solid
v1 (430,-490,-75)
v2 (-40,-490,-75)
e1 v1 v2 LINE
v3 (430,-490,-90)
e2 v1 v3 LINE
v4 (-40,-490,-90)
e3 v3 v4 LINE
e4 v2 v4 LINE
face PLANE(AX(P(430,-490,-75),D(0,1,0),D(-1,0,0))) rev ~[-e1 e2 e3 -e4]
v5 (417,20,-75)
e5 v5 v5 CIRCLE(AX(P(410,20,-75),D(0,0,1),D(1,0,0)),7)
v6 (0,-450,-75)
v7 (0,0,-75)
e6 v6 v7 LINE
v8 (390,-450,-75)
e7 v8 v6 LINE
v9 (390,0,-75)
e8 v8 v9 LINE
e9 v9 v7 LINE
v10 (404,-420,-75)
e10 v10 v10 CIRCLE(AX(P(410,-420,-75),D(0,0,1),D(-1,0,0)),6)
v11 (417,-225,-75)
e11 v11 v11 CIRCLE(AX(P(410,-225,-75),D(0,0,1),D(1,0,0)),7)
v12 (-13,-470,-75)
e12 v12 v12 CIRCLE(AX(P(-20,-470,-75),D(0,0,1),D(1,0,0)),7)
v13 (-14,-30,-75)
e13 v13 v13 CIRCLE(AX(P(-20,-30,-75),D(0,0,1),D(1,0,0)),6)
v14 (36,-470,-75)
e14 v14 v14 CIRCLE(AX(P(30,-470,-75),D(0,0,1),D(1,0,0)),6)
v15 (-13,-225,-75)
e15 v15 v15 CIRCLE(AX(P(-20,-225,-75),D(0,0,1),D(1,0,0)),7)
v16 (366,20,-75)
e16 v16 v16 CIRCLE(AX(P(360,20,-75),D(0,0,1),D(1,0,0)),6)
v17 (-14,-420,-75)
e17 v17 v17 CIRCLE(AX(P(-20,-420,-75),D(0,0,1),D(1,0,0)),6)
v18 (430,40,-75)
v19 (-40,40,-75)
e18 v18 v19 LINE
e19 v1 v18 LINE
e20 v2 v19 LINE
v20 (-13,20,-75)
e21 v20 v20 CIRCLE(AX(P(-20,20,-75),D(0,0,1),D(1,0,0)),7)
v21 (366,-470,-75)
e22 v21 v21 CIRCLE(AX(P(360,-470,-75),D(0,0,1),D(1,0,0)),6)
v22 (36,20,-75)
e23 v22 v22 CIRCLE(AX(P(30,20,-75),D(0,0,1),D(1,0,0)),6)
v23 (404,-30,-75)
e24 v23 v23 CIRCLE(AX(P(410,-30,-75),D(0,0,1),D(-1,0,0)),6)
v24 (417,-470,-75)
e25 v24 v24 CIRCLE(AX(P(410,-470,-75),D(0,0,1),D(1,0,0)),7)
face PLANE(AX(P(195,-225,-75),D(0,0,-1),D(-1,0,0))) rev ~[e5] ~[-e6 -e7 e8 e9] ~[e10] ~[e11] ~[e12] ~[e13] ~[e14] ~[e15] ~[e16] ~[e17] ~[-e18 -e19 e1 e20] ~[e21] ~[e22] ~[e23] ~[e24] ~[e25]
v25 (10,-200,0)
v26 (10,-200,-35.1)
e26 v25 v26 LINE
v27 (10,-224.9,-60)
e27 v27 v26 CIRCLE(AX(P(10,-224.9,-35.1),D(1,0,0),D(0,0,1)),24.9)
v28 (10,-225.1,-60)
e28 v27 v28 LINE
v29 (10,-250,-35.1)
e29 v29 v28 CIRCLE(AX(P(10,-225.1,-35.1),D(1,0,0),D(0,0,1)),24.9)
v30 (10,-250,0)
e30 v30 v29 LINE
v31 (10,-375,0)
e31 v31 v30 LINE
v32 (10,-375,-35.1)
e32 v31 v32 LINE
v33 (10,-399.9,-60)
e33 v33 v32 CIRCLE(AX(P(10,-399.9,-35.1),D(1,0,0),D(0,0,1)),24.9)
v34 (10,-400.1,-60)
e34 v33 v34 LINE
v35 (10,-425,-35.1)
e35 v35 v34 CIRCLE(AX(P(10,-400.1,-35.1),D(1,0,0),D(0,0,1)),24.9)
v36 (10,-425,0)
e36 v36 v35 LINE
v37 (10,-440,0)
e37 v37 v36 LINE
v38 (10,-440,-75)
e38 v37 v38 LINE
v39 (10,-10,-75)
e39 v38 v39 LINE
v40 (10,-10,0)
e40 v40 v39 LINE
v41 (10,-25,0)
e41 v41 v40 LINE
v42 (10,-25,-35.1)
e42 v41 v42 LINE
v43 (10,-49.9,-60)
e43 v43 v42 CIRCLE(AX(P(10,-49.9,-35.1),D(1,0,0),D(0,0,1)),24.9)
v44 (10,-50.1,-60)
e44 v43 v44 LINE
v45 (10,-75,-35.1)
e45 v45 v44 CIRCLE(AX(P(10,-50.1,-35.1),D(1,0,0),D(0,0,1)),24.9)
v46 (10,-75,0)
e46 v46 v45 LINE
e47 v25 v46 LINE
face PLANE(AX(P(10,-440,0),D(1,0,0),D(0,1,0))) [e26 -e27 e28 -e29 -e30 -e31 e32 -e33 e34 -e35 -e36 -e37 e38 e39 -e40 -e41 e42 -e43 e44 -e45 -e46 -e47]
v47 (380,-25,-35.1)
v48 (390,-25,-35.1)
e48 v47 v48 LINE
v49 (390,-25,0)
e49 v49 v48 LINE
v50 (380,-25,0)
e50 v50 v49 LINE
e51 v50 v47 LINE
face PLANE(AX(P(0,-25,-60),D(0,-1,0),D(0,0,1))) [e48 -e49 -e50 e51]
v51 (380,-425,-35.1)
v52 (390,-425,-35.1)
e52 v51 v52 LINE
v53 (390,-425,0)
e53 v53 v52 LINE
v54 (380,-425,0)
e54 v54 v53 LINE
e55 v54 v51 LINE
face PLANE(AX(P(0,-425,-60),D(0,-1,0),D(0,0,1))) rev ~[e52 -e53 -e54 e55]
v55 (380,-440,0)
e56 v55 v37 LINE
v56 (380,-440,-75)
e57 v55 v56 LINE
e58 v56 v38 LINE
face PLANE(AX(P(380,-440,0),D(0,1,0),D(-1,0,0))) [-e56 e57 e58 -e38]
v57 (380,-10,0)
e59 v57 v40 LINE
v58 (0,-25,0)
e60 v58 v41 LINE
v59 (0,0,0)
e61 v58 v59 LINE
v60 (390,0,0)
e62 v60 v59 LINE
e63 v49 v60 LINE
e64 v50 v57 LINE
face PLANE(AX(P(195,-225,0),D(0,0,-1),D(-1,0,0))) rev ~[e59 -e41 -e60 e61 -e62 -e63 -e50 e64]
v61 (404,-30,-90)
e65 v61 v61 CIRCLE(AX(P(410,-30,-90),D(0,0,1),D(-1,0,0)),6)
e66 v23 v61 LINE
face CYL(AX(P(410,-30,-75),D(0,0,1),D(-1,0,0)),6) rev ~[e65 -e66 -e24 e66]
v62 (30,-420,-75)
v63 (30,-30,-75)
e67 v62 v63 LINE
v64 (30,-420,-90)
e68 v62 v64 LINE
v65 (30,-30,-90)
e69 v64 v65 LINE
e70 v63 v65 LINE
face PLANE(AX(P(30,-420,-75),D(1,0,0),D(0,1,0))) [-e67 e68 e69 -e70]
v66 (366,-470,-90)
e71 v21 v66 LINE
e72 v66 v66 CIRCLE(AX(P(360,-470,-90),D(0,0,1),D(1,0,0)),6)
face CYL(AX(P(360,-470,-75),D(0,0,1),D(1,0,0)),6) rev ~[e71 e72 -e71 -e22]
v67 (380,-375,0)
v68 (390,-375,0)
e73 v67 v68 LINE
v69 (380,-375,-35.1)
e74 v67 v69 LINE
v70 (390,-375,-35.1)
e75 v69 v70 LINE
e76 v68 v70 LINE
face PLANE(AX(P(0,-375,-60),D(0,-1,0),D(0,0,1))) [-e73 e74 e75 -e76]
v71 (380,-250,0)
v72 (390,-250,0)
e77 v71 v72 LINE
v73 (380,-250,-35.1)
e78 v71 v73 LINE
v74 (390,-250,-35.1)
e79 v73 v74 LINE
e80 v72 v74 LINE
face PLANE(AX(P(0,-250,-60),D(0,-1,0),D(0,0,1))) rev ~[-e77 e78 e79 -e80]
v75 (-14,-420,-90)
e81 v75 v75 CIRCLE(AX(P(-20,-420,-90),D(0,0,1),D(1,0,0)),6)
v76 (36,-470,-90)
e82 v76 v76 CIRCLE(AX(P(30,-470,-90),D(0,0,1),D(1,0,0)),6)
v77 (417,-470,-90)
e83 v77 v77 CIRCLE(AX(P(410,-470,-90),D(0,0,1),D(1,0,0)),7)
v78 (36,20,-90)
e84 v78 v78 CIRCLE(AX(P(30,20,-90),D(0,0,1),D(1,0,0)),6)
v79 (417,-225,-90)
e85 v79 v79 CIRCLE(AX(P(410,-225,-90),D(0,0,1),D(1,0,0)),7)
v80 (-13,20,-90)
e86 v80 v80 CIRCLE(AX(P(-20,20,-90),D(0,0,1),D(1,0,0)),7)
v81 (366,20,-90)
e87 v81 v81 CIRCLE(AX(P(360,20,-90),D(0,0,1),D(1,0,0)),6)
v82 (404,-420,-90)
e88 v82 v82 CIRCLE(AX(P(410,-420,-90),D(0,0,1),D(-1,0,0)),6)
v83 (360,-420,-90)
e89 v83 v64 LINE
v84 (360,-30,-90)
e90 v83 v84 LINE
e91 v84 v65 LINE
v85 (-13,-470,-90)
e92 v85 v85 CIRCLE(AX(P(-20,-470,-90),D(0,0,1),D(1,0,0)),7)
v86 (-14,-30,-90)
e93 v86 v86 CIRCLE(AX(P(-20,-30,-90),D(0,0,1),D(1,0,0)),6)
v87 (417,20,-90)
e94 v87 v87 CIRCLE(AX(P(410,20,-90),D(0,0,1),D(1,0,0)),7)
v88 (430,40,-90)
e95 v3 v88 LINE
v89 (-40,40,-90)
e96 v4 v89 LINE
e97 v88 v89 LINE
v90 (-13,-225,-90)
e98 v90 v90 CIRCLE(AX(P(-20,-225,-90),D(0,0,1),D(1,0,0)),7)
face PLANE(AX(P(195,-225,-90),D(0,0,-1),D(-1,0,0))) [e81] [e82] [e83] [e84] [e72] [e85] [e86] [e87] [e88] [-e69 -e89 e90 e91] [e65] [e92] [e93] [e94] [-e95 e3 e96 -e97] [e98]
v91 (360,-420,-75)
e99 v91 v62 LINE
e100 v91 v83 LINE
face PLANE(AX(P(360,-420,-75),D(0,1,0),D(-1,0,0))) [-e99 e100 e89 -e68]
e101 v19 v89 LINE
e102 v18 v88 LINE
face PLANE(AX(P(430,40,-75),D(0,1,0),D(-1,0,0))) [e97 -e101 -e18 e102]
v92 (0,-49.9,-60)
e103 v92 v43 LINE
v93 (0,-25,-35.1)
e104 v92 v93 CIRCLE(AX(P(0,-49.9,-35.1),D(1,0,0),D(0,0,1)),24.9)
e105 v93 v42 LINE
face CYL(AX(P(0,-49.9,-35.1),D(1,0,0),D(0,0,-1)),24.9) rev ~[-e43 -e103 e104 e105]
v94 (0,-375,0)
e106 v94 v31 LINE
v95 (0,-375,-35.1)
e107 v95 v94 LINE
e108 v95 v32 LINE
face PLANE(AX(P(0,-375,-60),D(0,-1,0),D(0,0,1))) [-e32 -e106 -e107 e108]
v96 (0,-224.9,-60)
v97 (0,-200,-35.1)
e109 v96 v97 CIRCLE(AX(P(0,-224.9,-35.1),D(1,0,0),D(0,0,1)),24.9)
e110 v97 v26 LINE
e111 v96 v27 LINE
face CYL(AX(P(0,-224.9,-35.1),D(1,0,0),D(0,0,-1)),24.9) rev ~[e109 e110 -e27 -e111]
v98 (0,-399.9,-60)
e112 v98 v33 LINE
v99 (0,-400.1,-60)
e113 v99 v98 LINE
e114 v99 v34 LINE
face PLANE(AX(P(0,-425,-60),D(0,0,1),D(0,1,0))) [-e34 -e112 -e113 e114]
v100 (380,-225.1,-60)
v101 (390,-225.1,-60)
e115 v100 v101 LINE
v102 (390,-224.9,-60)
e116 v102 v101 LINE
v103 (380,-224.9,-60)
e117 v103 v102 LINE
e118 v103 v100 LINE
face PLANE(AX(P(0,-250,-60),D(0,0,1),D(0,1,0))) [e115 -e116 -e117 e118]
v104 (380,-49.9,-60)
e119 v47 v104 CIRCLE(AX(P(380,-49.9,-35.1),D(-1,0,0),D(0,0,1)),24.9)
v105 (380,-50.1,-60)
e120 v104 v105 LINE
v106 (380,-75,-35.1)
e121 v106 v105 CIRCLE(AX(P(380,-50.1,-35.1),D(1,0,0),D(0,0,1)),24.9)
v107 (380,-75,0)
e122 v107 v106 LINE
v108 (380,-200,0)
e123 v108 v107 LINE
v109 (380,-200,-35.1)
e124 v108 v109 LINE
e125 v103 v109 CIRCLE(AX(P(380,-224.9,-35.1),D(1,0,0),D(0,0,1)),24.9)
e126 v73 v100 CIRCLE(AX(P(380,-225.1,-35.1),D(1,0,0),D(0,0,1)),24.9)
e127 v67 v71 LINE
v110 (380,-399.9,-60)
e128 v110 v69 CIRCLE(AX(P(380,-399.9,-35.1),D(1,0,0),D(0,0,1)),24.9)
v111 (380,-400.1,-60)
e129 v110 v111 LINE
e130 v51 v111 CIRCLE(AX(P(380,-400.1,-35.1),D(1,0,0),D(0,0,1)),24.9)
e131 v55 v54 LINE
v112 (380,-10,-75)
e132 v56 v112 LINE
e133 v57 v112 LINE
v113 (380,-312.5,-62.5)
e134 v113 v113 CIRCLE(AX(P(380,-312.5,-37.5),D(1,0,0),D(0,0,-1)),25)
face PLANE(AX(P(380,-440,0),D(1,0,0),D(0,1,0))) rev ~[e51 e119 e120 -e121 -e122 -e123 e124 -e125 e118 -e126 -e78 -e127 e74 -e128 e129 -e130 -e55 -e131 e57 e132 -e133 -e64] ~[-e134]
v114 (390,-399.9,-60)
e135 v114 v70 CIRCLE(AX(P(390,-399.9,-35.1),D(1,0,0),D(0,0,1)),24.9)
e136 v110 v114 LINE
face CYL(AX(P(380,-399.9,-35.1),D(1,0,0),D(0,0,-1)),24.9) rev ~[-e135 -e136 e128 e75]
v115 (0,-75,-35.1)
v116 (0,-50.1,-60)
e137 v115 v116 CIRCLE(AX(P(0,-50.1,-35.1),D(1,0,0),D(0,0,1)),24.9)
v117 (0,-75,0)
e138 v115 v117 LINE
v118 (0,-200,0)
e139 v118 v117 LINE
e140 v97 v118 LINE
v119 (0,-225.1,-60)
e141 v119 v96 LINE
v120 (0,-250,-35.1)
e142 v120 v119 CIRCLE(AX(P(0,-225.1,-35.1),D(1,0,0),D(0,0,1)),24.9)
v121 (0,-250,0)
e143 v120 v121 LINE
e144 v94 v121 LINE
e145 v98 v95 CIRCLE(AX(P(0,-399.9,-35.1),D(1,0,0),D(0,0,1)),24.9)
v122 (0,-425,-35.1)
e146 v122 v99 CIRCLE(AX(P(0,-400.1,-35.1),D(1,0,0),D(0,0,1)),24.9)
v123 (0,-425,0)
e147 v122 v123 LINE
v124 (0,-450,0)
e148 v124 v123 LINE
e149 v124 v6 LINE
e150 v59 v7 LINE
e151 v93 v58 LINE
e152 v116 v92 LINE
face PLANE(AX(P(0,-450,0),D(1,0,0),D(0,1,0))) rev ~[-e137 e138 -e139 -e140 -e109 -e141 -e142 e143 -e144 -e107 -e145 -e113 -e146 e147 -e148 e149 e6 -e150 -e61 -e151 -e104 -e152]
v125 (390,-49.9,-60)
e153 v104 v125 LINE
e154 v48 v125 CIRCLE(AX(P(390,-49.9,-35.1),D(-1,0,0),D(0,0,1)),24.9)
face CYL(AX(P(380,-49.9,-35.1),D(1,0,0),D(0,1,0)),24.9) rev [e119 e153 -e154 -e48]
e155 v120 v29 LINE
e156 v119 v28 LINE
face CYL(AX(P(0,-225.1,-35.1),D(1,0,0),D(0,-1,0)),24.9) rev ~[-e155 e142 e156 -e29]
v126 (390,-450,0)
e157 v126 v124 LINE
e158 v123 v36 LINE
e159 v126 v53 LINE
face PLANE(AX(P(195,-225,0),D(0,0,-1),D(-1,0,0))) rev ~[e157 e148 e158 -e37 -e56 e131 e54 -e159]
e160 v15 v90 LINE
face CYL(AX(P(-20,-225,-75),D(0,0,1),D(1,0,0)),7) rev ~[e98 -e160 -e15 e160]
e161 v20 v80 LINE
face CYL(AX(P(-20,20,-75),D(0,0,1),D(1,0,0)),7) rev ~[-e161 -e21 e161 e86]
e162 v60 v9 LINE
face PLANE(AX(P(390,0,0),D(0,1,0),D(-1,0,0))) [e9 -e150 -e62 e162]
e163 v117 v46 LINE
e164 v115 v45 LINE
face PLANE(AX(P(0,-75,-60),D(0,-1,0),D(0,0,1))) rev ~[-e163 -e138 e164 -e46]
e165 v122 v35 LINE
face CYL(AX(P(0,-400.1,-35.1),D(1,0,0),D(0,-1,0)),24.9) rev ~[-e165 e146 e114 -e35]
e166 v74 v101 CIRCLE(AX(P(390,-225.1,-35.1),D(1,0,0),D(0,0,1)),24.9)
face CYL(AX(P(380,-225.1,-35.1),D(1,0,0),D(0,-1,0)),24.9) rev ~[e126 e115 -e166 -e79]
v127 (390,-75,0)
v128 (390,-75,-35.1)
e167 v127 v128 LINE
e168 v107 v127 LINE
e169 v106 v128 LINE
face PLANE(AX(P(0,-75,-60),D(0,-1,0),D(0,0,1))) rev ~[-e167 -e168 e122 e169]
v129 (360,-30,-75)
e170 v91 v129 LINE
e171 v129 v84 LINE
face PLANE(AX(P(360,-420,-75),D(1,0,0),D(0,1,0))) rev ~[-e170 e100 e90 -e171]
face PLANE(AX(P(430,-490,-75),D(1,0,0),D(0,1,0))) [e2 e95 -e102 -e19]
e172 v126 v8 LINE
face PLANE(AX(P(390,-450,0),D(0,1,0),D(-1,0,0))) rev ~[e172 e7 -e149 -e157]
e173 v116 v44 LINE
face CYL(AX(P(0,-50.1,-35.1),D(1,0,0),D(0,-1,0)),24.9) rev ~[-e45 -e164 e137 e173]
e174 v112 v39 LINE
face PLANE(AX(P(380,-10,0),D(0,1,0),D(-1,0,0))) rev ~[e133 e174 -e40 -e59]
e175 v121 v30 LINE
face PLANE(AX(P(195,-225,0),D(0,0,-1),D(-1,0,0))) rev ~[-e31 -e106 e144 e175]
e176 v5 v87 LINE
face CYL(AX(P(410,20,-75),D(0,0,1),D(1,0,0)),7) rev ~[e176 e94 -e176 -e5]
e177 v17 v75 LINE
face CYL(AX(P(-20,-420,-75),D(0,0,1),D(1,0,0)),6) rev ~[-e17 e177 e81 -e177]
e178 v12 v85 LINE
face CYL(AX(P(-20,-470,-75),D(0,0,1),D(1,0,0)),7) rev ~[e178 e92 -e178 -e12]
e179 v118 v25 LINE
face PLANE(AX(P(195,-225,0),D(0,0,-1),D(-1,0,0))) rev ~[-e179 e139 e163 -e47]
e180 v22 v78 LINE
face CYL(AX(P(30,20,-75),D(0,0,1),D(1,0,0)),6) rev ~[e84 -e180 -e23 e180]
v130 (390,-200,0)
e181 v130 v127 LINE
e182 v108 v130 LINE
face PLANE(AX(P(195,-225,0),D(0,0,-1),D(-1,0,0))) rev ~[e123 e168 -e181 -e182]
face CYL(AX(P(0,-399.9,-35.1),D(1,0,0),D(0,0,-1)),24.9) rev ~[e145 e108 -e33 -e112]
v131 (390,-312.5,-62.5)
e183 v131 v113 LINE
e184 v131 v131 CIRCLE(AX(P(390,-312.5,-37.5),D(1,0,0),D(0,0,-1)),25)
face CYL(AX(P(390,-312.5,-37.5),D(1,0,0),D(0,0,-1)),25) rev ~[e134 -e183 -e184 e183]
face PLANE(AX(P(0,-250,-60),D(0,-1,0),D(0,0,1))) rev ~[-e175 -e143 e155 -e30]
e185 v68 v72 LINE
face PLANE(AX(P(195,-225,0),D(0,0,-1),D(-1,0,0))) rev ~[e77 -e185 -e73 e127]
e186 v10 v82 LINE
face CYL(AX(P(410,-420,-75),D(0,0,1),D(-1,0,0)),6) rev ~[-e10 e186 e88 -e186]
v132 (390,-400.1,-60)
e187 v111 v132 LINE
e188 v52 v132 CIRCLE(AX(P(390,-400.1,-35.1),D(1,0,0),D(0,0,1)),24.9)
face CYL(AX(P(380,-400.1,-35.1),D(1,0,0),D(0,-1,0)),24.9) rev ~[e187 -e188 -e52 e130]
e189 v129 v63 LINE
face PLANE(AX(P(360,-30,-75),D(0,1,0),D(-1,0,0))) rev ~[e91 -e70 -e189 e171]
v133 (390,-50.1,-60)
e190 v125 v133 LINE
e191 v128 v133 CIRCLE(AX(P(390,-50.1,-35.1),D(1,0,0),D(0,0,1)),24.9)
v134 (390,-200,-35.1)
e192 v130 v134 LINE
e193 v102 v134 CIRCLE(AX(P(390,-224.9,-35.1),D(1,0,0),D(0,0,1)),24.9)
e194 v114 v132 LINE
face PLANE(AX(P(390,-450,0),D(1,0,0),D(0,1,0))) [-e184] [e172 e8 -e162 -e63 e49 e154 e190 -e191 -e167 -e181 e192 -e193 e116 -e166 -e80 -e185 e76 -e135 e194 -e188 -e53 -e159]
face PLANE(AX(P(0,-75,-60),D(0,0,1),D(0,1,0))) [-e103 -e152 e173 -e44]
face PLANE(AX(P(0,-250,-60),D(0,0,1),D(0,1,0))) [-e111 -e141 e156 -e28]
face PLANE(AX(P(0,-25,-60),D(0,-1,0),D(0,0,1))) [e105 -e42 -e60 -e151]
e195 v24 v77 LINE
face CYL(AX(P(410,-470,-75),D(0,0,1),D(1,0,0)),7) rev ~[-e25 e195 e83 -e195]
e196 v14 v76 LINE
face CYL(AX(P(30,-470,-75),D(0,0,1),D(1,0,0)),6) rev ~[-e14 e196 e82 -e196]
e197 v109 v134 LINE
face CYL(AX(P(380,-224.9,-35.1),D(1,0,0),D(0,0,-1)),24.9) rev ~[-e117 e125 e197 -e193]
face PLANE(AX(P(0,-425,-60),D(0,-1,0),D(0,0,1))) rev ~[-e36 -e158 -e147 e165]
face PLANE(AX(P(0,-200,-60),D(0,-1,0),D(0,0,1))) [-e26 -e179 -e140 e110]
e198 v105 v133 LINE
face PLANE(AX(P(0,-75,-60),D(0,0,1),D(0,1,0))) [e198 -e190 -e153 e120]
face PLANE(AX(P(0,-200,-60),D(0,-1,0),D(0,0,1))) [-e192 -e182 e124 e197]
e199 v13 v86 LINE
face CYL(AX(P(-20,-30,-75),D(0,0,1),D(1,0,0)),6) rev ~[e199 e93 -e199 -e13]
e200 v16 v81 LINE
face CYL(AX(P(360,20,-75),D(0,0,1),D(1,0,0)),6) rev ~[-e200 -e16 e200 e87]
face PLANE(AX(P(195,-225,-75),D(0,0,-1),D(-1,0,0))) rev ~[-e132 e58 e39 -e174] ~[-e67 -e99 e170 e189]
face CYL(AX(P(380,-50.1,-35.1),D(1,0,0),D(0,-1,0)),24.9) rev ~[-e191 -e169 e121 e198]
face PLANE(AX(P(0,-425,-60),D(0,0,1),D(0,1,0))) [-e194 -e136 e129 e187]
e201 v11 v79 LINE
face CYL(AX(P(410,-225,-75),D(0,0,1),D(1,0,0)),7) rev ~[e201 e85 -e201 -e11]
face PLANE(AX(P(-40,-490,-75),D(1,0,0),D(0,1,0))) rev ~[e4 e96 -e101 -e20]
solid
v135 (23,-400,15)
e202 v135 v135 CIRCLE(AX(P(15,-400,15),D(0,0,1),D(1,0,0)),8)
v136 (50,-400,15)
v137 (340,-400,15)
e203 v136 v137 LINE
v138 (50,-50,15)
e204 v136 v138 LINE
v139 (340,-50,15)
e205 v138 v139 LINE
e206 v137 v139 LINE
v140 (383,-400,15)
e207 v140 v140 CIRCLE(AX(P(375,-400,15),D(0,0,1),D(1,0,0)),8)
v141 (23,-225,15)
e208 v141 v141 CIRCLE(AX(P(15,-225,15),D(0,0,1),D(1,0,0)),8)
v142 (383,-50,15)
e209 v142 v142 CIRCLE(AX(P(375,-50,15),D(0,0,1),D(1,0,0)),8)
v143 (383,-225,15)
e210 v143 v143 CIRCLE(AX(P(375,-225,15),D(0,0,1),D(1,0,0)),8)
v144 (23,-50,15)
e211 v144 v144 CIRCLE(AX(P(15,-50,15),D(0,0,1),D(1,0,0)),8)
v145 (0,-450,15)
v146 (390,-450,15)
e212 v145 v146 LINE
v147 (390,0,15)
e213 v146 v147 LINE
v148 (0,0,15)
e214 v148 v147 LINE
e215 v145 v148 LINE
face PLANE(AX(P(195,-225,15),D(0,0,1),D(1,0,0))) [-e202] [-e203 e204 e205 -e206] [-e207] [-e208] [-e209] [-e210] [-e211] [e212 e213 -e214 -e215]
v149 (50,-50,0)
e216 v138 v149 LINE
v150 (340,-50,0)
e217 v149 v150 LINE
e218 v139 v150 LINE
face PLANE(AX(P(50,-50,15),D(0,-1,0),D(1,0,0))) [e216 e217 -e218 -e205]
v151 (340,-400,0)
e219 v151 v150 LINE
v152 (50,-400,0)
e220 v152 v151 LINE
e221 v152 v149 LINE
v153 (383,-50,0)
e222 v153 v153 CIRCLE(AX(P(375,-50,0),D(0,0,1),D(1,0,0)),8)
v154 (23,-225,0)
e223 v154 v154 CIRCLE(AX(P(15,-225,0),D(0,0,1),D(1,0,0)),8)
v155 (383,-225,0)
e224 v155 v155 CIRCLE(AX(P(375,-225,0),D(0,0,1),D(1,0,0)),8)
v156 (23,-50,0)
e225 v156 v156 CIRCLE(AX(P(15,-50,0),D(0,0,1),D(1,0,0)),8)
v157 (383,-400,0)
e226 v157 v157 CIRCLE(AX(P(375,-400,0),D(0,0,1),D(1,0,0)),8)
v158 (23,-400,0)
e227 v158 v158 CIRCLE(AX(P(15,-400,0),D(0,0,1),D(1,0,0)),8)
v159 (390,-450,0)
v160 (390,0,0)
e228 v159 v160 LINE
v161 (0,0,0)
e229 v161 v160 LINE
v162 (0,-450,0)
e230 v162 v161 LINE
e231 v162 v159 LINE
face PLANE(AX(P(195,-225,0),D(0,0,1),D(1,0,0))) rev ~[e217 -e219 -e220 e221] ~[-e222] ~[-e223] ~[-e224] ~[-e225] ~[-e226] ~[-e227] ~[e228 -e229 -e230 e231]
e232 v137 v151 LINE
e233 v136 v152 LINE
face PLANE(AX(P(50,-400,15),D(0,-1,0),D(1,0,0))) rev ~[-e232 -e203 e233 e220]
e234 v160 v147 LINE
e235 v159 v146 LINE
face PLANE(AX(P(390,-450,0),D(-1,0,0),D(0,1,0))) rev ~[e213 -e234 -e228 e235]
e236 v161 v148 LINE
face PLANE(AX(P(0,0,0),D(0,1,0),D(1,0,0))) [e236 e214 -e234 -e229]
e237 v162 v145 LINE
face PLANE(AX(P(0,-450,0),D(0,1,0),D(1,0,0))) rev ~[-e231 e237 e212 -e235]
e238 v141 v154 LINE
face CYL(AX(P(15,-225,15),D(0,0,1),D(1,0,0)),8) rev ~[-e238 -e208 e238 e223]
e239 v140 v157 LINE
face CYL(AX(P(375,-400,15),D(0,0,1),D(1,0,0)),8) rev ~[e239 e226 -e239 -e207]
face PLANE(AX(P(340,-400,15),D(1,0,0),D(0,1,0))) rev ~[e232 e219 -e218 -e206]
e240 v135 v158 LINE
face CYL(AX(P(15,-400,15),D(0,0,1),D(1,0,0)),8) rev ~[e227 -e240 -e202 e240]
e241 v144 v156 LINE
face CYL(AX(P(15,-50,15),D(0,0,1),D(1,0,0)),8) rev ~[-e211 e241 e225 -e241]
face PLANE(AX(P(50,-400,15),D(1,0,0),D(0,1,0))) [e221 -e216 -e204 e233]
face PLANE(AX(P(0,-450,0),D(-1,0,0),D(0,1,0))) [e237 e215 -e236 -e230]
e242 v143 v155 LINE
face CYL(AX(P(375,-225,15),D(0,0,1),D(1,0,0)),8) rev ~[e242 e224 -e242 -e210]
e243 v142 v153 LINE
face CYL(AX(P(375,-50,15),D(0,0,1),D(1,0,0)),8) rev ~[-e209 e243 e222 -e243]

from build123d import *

# Parameters (mm, degrees)
SKETCH_1_W          = 390
SKETCH_1_H          = 450
EXTRUDE_1_DEPTH     = 15
SKETCH_2_W          = 390
SKETCH_2_H          = 450
SKETCH_2_W_2        = 370
SKETCH_2_H_2        = 430
EXTRUDE_2_DEPTH     = 75
SKETCH_3_W          = 290
SKETCH_3_H          = 350
CUT_EXTRUDE_1_DEPTH = 75
SKETCH_4_W          = 470
SKETCH_4_H          = 530
SKETCH_4_W_2        = 330
SKETCH_4_H_2        = 390
EXTRUDE_3_DEPTH     = 15
SKETCH_5_R          = 8
CUT_EXTRUDE_2_DEPTH = 30
SKETCH_6_W          = 60
SKETCH_6_H          = 50
CUT_EXTRUDE_3_DEPTH = 659.103335351
FILLET_1_R          = 24.9
FILLET_2_R          = 24.9
SKETCH_7_R          = 7
SKETCH_7_R_2        = 6
CUT_EXTRUDE_4_DEPTH = 30
SKETCH_9_R          = 25
CUT_EXTRUDE_6_DEPTH = 30


with BuildPart() as part:
    # 草图1 → 拉伸1 (new body)
    with BuildSketch(Plane.XY):
        with Locations((195, -225)):
            Rectangle(SKETCH_1_W, SKETCH_1_H)
    extrude(amount=EXTRUDE_1_DEPTH)

    # 草图3 → 切除-拉伸1 (cut)
    with BuildSketch(Plane.XY.offset(15)):
        with Locations((195, -225)):
            Rectangle(SKETCH_3_W, SKETCH_3_H)
    extrude(amount=-CUT_EXTRUDE_1_DEPTH, mode=Mode.SUBTRACT)


with BuildPart() as body_2:
    # 草图2 → 拉伸2 (new body)
    with BuildSketch(Plane(origin=(0, 0, 0), x_dir=(-1, 0, 0), z_dir=(0, 0, -1))):
        with Locations((-195, -225)):
            Rectangle(SKETCH_2_W, SKETCH_2_H)
        with Locations((-195, -225)):
            Rectangle(SKETCH_2_W_2, SKETCH_2_H_2, mode=Mode.SUBTRACT)
    extrude(amount=EXTRUDE_2_DEPTH)

    # 草图4 → 拉伸3 (add)
    with BuildSketch(Plane(origin=(0, 0, -75), x_dir=(-1, 0, 0), z_dir=(0, 0, -1))):
        with Locations((-195, -225)):
            Rectangle(SKETCH_4_W, SKETCH_4_H)
        with Locations((-195, -225)):
            Rectangle(SKETCH_4_W_2, SKETCH_4_H_2, mode=Mode.SUBTRACT)
    extrude(amount=EXTRUDE_3_DEPTH)


with BuildPart() as cut_extrude_2_tool:
    # 草图5 → 切除-拉伸2 (new body)
    with BuildSketch(Plane.XY.offset(15)):
        with Locations((15, -50)):
            Circle(SKETCH_5_R)
        with Locations((375, -50)):
            Circle(SKETCH_5_R)
        with Locations((15, -225)):
            Circle(SKETCH_5_R)
        with Locations((375, -225)):
            Circle(SKETCH_5_R)
        with Locations((15, -400)):
            Circle(SKETCH_5_R)
        with Locations((375, -400)):
            Circle(SKETCH_5_R)
    extrude(amount=-CUT_EXTRUDE_2_DEPTH)


with BuildPart() as part_1:
    add(part.part)

    # 切除-拉伸2: cut by cut_extrude_2_tool
    add(cut_extrude_2_tool.part, mode=Mode.SUBTRACT)


with BuildPart() as body_2_1:
    add(body_2.part)

    # 切除-拉伸2: cut by cut_extrude_2_tool
    add(cut_extrude_2_tool.part, mode=Mode.SUBTRACT)

    # 草图6 → 切除-拉伸3 (cut, through all)
    with BuildSketch(Plane.ZY):
        with Locations((-30, -50)):
            Rectangle(SKETCH_6_W, SKETCH_6_H)
        with Locations((-30, -225)):
            Rectangle(SKETCH_6_W, SKETCH_6_H)
        with Locations((-30, -400)):
            Rectangle(SKETCH_6_W, SKETCH_6_H)
    extrude(amount=-CUT_EXTRUDE_3_DEPTH, mode=Mode.SUBTRACT)

    # 圆角1
    fillet_1_edges = [body_2_1.edges().sort_by_distance(p)[0] for p in [
        (5, -75, -60),
        (5, -25, -60),
        (5, -250, -60),
        (5, -200, -60),
        (5, -425, -60),
        (5, -375, -60),
    ]]
    fillet(fillet_1_edges, radius=FILLET_1_R)

    # 圆角2
    fillet_2_edges = [body_2_1.edges().sort_by_distance(p)[0] for p in [
        (385, -75, -60),
        (385, -25, -60),
        (385, -250, -60),
        (385, -200, -60),
        (385, -425, -60),
        (385, -375, -60),
    ]]
    fillet(fillet_2_edges, radius=FILLET_2_R)

    # 草图7 → 切除-拉伸4 (cut)
    with BuildSketch(Plane.XY.offset(-75)):
        with Locations((-20, 20)):
            Circle(SKETCH_7_R)
        with Locations(Location((410, -420, 0), (0, 0, 180))):
            Circle(SKETCH_7_R_2)
        with Locations((30, 20)):
            Circle(SKETCH_7_R_2)
        with Locations((360, 20)):
            Circle(SKETCH_7_R_2)
        with Locations((-20, -30)):
            Circle(SKETCH_7_R_2)
        with Locations((410, 20)):
            Circle(SKETCH_7_R)
        with Locations((-20, -420)):
            Circle(SKETCH_7_R_2)
        with Locations(Location((410, -30, 0), (0, 0, 180))):
            Circle(SKETCH_7_R_2)
        with Locations((-20, -225)):
            Circle(SKETCH_7_R)
        with Locations((410, -225)):
            Circle(SKETCH_7_R)
        with Locations((-20, -470)):
            Circle(SKETCH_7_R)
        with Locations((30, -470)):
            Circle(SKETCH_7_R_2)
        with Locations((360, -470)):
            Circle(SKETCH_7_R_2)
        with Locations((410, -470)):
            Circle(SKETCH_7_R)
    extrude(amount=-CUT_EXTRUDE_4_DEPTH, mode=Mode.SUBTRACT)

    # 草图9 → 切除-拉伸6 (cut)
    with BuildSketch(Plane(origin=(390, 0, 0), x_dir=(0, 0, -1), z_dir=(1, 0, 0))):
        with Locations((37.5, -312.5)):
            Circle(SKETCH_9_R)
    extrude(amount=-CUT_EXTRUDE_6_DEPTH, mode=Mode.SUBTRACT)


solid = Compound([part_1.part, body_2_1.part])
